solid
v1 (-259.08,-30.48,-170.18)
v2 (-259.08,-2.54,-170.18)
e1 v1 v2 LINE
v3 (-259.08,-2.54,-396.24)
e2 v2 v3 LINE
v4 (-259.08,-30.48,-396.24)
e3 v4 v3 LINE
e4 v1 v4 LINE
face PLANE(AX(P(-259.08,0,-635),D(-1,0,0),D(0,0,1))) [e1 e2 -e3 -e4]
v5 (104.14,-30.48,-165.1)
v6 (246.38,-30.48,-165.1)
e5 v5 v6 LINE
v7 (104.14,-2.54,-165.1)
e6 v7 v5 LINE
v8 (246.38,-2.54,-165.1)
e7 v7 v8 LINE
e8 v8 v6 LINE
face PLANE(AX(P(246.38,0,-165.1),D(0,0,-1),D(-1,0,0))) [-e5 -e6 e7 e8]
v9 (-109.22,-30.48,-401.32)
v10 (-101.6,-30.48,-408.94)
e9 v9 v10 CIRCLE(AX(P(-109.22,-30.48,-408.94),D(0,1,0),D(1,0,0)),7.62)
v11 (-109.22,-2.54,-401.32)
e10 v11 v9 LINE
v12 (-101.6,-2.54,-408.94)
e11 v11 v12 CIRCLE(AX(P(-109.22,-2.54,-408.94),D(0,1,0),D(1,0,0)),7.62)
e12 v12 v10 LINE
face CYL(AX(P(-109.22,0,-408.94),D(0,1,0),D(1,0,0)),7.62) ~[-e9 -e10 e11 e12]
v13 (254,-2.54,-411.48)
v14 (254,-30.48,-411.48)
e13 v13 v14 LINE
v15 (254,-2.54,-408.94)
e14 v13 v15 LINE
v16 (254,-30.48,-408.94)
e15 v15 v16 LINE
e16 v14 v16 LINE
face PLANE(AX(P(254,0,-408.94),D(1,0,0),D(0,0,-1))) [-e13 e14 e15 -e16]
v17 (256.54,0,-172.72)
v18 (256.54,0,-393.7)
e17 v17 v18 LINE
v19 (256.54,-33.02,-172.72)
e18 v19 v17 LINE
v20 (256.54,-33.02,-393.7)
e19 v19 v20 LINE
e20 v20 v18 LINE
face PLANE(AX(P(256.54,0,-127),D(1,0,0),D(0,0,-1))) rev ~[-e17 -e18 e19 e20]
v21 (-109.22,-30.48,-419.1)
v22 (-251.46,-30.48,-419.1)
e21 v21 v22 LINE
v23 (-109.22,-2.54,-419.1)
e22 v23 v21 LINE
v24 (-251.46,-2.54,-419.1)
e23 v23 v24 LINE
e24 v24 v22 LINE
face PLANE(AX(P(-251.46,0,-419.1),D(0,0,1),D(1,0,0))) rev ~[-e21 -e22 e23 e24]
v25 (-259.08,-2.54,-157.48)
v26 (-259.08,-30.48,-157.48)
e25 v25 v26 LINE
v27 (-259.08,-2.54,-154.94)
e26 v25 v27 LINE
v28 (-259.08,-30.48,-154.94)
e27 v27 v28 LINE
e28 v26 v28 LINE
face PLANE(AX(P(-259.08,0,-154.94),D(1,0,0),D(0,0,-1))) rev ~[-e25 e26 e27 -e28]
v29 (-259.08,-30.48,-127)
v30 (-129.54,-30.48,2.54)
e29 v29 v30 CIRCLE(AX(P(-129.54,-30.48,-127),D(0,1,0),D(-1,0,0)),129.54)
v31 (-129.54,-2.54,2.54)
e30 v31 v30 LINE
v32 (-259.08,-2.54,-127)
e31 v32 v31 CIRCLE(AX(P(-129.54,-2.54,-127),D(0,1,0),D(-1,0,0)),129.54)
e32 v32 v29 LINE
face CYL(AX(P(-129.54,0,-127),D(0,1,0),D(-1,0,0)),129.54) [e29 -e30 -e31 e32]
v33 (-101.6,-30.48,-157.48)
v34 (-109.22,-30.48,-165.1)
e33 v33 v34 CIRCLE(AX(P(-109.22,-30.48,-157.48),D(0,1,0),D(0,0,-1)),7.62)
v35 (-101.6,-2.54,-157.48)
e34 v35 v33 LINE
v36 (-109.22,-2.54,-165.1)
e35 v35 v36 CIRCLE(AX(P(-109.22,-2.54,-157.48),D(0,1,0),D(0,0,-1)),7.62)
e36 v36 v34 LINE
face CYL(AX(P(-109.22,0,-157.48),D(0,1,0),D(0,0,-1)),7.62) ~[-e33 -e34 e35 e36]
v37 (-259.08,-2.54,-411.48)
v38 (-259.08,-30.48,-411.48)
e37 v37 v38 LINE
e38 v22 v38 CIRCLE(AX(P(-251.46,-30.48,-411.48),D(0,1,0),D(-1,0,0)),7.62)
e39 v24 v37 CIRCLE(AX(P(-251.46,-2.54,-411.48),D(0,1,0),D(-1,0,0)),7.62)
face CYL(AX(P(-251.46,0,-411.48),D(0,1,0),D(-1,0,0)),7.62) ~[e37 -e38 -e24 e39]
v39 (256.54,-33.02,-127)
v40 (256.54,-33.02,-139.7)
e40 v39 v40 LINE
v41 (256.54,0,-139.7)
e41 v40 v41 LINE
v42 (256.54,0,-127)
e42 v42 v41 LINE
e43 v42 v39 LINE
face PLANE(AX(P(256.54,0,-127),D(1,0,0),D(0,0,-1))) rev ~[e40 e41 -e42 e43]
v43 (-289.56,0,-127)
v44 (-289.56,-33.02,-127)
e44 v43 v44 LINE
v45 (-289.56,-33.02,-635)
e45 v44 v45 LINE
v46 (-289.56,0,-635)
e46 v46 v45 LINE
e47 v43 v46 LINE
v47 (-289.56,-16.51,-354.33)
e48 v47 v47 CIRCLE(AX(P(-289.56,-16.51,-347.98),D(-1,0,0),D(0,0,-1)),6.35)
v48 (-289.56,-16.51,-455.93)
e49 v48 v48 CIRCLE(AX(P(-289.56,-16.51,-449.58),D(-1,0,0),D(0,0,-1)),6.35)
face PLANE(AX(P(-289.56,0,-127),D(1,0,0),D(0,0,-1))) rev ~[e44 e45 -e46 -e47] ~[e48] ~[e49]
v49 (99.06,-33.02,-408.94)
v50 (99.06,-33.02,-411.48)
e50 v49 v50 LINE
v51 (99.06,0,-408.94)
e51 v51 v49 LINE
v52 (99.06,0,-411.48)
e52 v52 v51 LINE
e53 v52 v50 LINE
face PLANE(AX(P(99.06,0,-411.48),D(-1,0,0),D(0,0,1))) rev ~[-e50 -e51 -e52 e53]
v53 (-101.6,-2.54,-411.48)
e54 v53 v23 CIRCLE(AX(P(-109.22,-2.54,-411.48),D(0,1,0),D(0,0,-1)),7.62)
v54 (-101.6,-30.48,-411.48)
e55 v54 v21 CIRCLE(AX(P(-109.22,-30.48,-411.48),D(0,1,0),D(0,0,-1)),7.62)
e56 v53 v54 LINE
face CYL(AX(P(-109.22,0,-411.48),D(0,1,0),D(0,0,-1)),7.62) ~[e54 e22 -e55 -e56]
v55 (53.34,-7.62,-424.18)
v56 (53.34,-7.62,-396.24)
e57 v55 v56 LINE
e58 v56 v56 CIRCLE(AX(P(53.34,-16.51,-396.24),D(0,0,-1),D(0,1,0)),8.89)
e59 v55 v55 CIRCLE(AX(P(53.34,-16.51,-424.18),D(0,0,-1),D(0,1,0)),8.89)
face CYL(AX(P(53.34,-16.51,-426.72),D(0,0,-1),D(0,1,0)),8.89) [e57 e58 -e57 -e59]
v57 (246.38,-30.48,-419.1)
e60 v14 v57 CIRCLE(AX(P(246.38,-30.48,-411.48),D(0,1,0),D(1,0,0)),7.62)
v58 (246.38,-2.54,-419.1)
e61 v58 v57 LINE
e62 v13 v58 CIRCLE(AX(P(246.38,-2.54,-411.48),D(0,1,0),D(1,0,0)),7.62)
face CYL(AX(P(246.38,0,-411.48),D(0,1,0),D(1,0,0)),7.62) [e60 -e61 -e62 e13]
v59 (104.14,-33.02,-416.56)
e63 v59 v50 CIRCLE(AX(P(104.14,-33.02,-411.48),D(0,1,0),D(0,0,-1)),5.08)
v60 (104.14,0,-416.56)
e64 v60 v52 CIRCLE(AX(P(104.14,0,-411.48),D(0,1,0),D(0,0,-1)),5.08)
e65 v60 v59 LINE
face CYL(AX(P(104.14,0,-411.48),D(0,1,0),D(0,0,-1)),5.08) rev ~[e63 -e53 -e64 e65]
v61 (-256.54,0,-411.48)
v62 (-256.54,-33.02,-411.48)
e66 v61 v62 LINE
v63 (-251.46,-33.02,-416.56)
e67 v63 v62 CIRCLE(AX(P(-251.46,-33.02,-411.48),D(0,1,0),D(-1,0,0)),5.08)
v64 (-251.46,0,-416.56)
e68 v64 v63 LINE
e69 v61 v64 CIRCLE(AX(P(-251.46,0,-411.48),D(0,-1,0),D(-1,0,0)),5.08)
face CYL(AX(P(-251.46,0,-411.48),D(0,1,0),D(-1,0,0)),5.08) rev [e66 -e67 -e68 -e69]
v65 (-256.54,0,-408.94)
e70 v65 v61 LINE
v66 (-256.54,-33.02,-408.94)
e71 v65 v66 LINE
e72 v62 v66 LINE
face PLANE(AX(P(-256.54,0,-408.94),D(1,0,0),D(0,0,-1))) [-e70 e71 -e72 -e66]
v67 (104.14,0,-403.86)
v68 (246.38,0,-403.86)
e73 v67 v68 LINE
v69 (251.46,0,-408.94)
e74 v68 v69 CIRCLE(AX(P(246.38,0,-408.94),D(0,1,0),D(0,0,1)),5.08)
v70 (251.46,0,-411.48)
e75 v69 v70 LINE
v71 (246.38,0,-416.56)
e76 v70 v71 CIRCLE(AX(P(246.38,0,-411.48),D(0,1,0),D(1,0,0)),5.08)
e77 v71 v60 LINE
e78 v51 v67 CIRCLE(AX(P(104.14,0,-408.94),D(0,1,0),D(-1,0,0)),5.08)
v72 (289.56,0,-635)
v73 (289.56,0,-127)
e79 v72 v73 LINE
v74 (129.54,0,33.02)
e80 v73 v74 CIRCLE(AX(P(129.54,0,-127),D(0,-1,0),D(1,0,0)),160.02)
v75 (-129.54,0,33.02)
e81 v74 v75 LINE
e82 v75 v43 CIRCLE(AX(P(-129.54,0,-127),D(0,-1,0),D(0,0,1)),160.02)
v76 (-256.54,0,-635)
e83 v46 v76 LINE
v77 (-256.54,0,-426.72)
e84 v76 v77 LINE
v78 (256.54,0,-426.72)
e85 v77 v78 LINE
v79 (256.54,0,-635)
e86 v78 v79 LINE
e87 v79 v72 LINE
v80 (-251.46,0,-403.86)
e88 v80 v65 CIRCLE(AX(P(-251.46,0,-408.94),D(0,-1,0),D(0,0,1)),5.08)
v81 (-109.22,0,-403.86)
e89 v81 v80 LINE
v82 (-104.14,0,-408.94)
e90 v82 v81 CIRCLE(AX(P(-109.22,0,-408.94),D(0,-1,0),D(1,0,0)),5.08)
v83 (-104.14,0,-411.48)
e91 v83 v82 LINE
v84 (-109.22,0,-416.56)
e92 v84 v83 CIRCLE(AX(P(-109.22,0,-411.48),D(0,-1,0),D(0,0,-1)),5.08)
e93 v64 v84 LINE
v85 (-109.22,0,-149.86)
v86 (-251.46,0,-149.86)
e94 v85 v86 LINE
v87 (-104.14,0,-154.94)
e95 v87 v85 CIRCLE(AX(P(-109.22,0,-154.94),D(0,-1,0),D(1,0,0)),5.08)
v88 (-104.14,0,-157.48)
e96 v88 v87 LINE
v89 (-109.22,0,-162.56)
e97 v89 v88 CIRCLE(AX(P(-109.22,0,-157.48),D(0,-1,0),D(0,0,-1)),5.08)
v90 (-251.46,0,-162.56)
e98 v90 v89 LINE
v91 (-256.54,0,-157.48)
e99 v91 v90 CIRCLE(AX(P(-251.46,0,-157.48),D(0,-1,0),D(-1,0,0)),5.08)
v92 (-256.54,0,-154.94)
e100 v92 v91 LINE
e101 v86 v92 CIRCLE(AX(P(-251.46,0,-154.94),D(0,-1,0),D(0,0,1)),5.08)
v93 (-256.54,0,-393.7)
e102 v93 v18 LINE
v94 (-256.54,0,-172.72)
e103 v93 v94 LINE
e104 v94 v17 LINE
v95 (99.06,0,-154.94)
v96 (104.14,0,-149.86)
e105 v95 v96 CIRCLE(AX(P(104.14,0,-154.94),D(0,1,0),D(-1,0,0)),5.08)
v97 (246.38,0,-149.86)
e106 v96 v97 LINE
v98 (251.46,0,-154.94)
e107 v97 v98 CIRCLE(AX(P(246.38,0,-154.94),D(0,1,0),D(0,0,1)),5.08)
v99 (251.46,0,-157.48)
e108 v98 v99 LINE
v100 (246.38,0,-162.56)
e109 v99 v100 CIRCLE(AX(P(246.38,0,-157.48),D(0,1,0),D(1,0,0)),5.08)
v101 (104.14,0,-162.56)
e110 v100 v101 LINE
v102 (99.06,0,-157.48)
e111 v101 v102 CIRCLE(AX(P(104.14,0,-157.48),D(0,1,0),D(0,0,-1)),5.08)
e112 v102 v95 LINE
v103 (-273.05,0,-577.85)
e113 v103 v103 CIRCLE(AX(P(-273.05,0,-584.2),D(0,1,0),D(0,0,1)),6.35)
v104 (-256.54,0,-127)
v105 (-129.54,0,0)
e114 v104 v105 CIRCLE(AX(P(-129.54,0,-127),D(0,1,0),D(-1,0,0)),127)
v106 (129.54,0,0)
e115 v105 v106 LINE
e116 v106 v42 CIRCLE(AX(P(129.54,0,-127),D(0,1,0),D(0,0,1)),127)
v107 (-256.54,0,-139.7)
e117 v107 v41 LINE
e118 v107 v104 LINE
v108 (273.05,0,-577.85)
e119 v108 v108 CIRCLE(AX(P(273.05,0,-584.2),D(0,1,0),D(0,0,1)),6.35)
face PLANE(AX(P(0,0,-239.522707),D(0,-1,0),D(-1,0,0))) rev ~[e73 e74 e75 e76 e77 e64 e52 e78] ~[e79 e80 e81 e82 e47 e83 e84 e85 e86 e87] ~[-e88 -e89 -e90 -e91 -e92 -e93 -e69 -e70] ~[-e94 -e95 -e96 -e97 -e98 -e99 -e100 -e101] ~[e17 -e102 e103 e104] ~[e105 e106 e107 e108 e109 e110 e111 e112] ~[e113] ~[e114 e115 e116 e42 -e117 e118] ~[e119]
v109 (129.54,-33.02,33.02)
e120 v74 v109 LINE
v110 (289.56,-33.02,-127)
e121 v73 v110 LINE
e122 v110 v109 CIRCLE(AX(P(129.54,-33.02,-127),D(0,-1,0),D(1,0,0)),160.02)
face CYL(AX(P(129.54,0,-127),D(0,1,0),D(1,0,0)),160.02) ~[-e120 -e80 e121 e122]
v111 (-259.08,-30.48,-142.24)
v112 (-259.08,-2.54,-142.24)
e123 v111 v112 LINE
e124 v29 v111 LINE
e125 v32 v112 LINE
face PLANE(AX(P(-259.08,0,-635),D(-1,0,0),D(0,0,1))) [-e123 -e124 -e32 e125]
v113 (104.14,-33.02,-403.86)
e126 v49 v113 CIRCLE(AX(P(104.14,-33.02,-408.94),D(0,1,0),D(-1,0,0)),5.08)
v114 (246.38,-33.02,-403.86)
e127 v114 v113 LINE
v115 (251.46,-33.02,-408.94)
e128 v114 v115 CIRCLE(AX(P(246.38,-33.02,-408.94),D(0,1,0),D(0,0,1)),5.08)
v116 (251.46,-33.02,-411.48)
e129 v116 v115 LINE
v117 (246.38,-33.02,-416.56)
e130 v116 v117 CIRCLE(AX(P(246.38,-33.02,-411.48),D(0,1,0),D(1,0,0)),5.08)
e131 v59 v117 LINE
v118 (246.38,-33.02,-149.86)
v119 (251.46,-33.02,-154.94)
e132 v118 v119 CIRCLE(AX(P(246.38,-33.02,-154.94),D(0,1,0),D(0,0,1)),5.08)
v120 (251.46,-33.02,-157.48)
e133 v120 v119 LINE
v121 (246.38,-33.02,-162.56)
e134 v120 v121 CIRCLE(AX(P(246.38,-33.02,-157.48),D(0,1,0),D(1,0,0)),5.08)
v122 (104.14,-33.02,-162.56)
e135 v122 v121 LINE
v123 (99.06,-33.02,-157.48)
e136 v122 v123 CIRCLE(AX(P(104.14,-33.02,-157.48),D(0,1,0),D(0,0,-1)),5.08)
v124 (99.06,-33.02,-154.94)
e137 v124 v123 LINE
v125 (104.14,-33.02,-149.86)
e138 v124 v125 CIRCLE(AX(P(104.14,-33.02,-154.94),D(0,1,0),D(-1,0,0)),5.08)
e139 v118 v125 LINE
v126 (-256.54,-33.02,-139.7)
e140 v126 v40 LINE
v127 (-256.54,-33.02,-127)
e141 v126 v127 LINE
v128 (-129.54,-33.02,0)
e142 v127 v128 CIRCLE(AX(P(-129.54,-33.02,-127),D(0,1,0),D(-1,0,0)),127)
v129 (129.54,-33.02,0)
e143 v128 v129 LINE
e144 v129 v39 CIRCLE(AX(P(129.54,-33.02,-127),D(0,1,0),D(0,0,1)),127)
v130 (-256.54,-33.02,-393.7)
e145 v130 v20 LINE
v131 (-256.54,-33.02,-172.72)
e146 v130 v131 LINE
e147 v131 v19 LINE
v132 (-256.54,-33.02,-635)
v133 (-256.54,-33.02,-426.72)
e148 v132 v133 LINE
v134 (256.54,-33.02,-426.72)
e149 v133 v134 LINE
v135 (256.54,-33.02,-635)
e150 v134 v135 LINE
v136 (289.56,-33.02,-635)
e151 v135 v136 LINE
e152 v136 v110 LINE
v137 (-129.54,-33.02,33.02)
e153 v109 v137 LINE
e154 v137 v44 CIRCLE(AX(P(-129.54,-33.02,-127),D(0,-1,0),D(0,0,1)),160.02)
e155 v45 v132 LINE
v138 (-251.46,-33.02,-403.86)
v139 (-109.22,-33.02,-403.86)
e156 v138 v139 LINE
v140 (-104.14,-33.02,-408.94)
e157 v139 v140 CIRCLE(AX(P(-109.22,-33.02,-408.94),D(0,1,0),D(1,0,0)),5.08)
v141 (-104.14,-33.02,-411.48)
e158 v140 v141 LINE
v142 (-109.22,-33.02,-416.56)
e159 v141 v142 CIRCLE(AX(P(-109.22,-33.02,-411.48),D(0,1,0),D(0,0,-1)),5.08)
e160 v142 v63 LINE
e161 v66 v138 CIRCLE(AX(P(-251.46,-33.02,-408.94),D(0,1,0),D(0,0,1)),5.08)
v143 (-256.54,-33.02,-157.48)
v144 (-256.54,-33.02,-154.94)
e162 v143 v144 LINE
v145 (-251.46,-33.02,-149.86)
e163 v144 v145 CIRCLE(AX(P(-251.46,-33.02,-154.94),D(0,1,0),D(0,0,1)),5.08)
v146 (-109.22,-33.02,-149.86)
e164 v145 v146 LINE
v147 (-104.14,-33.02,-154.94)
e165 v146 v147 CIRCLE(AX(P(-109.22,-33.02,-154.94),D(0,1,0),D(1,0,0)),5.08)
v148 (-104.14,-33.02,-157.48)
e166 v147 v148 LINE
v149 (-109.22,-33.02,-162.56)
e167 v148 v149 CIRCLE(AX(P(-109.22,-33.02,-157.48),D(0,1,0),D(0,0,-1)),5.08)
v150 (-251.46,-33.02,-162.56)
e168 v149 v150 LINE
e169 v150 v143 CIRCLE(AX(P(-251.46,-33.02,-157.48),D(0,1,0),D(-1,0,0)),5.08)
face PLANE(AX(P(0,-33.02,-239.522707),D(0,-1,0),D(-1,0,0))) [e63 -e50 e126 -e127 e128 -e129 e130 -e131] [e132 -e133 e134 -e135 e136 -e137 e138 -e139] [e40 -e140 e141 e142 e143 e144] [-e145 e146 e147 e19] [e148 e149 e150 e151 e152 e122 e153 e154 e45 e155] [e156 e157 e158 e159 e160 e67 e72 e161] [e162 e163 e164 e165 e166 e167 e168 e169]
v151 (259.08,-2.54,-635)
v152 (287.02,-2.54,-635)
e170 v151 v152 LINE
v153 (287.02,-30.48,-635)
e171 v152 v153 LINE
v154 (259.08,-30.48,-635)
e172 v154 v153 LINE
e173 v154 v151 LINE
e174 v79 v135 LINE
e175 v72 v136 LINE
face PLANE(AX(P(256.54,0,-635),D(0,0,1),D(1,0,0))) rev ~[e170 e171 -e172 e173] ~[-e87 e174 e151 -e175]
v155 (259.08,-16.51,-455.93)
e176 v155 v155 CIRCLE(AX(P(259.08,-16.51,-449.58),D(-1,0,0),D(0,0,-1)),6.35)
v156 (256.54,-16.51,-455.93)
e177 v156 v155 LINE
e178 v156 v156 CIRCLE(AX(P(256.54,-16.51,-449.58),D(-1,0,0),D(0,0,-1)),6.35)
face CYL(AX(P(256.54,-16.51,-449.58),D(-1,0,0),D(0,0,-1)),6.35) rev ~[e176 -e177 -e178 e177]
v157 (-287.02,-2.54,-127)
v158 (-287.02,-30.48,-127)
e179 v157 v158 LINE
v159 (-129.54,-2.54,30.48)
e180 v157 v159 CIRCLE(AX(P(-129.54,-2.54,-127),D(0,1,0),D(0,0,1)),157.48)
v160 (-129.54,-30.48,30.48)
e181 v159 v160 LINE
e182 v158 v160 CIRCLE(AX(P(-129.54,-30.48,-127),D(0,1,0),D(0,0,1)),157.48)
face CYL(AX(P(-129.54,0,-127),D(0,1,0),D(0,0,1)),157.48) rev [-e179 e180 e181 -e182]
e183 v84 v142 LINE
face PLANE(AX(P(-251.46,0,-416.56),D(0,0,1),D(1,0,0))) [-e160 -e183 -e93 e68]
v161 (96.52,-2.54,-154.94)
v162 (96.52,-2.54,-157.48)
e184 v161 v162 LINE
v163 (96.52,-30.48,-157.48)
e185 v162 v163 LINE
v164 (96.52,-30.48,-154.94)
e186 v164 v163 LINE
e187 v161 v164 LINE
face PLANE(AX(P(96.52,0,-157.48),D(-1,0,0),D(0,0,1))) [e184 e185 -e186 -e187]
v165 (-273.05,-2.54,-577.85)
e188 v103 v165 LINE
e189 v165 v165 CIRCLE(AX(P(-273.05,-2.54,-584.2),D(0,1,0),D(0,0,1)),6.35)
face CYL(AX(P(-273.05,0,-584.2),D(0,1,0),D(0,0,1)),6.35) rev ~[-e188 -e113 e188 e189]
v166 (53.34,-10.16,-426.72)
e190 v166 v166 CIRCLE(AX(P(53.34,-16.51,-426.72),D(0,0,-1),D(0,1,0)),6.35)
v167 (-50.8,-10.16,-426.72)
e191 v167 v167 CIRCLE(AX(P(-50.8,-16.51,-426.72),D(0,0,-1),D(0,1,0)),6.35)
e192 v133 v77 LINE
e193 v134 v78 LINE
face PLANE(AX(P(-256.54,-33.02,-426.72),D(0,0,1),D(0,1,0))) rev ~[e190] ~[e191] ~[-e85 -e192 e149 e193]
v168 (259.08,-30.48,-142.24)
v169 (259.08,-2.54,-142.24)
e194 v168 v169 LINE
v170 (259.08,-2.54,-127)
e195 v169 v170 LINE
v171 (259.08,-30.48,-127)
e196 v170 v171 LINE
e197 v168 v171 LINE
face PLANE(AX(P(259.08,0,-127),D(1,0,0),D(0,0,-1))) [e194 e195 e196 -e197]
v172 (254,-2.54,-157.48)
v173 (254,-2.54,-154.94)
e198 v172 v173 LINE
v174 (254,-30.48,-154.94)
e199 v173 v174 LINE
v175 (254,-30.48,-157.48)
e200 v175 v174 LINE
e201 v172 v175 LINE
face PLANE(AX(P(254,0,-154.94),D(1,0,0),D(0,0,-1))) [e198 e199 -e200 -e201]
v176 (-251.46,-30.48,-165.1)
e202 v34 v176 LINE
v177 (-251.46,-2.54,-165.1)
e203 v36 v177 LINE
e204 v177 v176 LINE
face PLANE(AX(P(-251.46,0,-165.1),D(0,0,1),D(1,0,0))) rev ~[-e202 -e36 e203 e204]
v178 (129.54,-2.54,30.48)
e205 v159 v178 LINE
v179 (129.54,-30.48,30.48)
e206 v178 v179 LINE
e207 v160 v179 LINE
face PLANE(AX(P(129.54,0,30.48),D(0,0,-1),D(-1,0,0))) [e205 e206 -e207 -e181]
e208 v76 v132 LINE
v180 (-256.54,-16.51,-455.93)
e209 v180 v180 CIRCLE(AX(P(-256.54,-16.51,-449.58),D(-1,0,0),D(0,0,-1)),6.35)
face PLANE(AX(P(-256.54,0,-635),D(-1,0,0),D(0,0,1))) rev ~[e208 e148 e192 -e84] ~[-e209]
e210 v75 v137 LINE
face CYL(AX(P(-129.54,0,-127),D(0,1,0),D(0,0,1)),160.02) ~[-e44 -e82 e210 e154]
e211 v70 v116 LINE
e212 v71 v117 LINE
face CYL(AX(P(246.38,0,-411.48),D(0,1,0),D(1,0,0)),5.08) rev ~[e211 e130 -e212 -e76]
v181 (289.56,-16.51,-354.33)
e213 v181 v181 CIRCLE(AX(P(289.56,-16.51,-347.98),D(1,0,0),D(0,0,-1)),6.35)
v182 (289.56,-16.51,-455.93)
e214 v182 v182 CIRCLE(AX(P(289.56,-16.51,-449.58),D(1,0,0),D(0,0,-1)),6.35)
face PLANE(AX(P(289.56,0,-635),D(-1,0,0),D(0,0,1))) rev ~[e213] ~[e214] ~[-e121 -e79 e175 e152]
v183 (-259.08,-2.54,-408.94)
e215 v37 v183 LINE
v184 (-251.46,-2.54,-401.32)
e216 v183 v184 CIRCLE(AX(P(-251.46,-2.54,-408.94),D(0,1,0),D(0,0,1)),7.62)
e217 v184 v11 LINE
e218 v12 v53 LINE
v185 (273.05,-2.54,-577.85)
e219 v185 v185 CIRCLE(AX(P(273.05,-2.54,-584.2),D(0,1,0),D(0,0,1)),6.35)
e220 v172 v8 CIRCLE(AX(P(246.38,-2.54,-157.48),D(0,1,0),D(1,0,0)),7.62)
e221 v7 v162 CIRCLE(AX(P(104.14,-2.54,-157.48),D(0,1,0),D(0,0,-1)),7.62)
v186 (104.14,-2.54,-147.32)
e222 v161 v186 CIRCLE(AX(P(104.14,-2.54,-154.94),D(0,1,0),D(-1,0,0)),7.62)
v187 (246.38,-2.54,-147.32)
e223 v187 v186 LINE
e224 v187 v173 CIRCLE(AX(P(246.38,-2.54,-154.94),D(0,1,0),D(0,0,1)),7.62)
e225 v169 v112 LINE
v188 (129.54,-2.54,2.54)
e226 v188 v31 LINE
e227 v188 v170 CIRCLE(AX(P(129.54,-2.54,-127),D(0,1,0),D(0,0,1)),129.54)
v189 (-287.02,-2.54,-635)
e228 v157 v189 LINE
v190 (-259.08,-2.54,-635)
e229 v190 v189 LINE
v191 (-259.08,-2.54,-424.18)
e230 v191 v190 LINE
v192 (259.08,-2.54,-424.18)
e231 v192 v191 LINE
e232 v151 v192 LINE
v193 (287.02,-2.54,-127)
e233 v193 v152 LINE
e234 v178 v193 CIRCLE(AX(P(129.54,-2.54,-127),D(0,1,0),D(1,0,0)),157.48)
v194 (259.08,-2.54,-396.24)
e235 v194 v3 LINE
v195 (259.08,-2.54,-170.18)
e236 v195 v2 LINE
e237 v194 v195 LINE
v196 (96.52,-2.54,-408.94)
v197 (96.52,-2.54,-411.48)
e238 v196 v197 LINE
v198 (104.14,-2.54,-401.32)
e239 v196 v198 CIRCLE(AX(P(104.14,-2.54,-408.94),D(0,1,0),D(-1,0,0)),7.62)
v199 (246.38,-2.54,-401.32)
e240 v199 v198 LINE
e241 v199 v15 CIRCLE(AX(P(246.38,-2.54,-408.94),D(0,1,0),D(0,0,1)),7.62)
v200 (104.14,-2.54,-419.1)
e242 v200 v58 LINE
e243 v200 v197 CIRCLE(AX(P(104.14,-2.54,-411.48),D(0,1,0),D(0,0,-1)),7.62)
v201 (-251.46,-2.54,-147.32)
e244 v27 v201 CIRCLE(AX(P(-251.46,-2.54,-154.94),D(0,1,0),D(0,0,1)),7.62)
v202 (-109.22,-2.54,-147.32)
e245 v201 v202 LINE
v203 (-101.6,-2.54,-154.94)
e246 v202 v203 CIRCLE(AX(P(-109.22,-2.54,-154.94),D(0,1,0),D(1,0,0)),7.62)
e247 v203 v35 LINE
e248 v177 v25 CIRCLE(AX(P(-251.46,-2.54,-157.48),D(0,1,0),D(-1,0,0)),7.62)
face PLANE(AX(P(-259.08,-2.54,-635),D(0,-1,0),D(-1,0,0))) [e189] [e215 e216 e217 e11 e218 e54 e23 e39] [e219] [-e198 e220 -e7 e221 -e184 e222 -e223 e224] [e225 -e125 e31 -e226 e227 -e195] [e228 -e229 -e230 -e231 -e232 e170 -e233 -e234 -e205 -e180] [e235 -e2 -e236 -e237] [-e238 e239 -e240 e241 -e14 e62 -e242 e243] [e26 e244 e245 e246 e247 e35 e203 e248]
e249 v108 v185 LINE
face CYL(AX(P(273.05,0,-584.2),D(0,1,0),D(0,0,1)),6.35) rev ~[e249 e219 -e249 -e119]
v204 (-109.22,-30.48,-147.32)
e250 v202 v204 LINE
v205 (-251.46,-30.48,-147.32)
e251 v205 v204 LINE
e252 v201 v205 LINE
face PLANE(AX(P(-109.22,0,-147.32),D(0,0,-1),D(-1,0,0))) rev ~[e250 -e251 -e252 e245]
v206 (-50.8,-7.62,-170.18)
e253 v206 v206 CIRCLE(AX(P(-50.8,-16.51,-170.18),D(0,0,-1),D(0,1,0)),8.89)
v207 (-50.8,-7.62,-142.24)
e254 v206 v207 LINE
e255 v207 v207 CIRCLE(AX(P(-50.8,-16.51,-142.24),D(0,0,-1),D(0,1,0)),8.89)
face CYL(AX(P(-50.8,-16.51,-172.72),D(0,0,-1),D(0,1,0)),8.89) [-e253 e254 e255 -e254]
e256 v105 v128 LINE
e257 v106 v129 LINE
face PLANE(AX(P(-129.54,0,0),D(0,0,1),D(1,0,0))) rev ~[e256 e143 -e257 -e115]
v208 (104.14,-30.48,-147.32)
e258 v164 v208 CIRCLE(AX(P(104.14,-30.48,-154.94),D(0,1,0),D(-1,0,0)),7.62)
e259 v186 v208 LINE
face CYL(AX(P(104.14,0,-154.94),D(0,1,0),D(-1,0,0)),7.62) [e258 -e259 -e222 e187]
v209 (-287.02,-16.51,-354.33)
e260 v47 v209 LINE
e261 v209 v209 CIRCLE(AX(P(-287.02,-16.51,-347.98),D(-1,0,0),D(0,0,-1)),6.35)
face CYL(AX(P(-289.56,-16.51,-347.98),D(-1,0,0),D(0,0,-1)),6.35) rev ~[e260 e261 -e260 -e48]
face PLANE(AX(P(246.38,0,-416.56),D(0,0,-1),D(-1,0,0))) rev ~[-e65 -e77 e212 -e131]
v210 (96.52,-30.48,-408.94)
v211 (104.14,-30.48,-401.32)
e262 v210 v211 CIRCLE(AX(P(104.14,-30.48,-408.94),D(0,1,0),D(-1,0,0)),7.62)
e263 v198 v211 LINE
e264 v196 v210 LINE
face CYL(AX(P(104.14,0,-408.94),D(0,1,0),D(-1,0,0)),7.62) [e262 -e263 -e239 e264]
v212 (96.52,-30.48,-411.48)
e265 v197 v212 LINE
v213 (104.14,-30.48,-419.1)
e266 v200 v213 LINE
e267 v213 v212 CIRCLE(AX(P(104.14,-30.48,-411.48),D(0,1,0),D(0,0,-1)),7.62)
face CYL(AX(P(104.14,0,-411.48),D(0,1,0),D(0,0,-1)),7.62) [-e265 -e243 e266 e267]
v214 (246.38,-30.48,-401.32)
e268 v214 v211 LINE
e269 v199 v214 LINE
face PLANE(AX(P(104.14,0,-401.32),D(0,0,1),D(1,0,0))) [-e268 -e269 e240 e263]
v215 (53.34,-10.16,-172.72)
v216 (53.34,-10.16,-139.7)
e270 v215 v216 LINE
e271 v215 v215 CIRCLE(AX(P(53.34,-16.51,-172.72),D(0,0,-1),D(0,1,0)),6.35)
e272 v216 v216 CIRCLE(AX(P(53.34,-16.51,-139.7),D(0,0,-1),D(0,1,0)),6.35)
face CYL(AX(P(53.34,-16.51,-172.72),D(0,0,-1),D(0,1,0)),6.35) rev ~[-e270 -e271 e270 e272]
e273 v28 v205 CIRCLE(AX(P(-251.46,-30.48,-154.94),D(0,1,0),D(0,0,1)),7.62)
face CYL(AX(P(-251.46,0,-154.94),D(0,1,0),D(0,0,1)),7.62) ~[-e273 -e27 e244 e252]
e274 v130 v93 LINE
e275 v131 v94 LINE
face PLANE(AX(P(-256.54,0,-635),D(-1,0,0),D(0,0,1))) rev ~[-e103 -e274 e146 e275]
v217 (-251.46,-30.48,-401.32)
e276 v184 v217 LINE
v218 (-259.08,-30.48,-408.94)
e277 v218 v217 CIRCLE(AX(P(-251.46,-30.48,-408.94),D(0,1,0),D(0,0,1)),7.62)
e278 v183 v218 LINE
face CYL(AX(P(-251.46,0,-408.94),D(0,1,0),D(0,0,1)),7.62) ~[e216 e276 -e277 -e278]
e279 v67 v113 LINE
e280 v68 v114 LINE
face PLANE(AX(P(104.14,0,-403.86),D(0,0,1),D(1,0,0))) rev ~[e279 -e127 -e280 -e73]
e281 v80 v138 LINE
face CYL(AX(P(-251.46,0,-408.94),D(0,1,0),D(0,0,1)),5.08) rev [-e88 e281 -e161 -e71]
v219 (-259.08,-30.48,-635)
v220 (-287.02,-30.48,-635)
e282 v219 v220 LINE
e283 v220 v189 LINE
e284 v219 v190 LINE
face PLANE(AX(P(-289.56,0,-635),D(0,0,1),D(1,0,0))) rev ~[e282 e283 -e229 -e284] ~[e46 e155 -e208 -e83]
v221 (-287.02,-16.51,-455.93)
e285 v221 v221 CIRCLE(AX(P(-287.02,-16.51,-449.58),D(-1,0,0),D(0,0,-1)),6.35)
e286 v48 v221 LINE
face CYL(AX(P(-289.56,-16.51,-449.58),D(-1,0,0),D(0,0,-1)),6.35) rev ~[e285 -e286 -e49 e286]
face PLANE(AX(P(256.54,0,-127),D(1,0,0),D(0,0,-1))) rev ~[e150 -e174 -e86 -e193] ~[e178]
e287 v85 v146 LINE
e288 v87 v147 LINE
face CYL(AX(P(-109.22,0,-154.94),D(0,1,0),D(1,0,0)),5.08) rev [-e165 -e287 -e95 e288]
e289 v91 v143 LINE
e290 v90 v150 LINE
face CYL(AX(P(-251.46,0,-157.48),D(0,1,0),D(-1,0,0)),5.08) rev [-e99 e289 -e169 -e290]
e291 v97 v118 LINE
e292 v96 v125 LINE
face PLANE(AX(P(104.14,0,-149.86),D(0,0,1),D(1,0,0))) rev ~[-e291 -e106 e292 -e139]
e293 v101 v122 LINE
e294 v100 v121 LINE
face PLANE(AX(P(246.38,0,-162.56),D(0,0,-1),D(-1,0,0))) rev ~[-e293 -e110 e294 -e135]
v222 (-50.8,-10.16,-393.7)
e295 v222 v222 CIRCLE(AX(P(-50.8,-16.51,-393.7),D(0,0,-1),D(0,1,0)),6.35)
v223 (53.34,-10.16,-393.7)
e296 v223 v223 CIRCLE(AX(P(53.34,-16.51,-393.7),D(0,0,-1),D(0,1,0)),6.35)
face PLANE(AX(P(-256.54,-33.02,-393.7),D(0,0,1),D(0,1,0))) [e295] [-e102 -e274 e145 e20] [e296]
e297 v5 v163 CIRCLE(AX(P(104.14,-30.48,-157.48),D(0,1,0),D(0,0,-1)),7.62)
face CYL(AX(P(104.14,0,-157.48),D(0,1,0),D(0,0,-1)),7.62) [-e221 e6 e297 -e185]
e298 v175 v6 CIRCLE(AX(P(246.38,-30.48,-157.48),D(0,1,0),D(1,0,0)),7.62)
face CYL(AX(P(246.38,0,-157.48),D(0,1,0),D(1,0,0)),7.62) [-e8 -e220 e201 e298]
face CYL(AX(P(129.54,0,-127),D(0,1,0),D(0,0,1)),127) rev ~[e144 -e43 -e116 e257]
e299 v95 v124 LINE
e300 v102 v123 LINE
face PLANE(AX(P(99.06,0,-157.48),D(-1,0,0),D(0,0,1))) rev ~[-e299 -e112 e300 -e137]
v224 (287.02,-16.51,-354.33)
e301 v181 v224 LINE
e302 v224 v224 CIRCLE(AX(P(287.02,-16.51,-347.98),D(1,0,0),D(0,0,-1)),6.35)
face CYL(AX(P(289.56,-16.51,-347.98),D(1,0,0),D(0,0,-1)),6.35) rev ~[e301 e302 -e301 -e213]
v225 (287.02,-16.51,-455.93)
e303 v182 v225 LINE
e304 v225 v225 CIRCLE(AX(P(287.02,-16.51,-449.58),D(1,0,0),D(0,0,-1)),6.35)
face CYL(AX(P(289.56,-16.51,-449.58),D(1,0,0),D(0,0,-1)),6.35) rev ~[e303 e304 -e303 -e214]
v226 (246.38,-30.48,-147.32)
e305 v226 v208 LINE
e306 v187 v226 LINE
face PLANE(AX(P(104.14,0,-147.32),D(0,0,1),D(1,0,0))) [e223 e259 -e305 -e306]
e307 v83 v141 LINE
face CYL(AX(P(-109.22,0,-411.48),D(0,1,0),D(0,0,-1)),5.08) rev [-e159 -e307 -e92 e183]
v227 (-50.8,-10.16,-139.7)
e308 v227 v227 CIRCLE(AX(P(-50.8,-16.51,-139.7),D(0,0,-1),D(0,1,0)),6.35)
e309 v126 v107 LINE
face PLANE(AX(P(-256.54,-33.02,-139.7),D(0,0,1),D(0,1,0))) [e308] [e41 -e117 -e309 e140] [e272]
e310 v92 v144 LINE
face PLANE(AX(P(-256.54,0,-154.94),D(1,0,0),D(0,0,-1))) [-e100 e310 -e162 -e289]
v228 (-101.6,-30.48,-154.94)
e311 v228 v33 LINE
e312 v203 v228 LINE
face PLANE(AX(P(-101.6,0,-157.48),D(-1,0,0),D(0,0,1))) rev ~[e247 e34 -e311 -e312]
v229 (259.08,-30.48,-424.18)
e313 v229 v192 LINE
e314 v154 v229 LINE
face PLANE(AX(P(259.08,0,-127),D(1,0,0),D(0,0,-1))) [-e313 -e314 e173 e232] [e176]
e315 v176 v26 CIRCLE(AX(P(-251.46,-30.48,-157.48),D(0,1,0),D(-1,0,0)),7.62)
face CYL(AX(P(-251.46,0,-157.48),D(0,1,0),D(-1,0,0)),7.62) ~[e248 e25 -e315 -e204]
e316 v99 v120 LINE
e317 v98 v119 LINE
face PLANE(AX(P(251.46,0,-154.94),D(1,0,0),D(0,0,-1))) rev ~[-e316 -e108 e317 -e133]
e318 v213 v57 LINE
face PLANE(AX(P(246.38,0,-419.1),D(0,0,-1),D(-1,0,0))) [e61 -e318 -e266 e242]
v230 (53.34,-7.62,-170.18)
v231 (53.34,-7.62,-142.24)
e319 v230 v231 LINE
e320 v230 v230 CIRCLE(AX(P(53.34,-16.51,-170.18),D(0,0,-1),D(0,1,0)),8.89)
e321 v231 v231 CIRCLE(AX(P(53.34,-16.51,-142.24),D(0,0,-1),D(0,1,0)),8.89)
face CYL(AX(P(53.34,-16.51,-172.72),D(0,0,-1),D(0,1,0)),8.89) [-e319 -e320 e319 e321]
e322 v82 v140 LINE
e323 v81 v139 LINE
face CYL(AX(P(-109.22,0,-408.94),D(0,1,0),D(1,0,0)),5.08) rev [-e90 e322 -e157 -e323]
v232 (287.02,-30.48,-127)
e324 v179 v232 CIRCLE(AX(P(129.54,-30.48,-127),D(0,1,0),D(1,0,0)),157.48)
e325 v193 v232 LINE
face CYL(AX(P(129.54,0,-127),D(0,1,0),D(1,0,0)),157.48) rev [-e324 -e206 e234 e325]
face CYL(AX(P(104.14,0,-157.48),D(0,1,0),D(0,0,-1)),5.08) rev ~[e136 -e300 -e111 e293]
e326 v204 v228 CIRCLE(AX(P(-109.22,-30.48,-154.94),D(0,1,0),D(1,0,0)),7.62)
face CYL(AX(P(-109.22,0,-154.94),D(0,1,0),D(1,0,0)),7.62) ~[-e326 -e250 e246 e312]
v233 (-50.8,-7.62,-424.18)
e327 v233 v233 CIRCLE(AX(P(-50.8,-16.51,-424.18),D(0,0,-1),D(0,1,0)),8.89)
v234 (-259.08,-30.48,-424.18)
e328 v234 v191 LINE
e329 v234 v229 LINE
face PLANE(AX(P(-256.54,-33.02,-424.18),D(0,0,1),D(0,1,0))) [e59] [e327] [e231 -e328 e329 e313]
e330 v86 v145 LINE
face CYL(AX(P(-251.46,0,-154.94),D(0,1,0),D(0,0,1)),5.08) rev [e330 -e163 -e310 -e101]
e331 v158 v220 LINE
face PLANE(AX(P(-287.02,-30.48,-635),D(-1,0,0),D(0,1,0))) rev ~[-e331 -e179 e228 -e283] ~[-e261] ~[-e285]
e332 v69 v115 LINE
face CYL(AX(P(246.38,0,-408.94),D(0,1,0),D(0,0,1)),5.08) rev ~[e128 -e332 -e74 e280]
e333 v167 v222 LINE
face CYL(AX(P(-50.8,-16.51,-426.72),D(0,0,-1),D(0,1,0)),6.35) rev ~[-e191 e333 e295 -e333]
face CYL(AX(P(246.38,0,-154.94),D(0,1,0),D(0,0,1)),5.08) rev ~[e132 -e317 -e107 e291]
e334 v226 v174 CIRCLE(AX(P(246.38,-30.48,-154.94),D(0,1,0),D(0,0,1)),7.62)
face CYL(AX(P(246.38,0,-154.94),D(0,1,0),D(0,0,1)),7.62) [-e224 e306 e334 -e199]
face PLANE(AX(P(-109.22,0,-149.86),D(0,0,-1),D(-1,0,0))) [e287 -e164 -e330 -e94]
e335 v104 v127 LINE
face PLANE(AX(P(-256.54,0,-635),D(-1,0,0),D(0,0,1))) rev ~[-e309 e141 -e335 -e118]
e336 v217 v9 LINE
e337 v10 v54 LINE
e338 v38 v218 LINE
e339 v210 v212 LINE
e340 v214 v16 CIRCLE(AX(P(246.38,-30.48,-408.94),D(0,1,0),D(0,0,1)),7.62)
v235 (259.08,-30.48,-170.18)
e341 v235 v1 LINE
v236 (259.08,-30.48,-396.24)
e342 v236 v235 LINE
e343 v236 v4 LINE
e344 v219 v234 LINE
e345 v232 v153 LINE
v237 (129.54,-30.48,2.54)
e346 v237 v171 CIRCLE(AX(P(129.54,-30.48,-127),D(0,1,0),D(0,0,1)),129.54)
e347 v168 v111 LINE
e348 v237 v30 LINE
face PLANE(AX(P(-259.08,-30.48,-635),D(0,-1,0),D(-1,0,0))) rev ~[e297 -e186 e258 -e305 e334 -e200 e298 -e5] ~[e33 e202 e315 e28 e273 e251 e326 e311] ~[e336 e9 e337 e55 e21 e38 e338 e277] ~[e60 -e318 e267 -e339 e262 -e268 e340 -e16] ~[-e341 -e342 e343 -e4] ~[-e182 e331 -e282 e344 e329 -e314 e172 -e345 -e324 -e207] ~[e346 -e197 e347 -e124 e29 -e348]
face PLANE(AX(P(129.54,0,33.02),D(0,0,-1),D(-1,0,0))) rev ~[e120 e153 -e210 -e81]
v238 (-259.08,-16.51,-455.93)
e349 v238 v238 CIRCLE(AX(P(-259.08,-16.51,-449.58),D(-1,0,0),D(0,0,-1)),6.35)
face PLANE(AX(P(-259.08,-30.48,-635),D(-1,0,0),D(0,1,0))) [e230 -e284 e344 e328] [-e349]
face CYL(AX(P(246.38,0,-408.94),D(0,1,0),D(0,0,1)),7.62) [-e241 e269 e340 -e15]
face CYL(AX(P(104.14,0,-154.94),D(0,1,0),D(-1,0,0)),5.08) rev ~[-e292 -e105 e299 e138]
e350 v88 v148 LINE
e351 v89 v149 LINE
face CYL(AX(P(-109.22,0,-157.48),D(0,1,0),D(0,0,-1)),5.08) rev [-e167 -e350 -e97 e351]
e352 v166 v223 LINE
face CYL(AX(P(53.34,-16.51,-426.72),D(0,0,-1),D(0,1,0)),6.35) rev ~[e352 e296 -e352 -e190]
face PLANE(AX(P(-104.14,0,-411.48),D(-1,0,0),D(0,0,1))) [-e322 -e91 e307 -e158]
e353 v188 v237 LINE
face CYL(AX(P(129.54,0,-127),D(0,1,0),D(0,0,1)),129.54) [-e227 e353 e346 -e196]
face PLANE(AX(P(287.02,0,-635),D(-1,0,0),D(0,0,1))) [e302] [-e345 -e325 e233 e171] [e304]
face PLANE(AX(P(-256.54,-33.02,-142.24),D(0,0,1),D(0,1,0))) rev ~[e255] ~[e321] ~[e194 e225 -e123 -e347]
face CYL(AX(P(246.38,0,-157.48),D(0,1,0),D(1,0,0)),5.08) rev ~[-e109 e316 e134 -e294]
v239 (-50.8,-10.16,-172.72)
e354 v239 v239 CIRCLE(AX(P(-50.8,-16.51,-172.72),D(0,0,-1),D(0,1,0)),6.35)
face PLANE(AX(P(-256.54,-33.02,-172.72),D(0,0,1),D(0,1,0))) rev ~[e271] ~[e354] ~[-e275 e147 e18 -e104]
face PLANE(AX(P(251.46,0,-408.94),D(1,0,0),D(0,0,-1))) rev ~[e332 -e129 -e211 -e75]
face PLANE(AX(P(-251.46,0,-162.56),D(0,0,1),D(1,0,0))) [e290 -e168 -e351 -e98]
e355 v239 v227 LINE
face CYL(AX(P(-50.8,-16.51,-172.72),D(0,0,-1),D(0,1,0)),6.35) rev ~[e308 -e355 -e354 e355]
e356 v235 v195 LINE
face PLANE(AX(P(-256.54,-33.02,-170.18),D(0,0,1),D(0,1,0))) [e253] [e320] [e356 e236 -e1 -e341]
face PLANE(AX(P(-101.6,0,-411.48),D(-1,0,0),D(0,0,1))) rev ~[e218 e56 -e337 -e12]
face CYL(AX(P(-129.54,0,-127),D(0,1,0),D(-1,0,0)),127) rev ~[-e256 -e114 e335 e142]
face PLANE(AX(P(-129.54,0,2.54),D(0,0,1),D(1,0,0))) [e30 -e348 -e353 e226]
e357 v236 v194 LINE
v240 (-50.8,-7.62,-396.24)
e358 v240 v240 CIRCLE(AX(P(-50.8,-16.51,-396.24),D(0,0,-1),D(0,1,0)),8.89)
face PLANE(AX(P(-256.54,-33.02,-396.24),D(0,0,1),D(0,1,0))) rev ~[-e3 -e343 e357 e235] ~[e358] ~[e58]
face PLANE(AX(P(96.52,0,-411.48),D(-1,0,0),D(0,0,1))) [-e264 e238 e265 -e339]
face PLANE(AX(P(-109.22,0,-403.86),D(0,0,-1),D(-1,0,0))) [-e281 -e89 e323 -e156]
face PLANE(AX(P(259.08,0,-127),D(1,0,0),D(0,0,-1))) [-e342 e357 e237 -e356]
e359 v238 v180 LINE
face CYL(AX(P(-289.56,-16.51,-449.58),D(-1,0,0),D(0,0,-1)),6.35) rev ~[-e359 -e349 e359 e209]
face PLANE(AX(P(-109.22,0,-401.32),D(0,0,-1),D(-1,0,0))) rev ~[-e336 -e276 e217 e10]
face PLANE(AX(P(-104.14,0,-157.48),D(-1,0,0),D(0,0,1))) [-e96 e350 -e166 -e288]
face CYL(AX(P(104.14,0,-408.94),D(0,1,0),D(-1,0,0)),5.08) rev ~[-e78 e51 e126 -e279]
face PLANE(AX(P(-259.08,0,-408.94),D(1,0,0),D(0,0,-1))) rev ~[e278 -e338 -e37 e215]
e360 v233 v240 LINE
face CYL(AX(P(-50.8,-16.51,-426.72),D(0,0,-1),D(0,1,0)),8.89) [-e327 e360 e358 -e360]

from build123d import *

# Parameters (mm, degrees)
BOSS_EXTRUDE1_DEPTH = 33.02
BOSS_EXTRUDE2_REACH = 840.177
SKETCH3_W           = 33.02
SKETCH3_H           = 33.02
CUT_EXTRUDE1_DEPTH  = 699.684702852
CUT_EXTRUDE2_REACH  = 548.478
SKETCH6_R           = 6.35
LPATTERN1_COUNT     = 2
LPATTERN1_PITCH     = 254
SHELL1_T            = -2.54
CUT_EXTRUDE3_REACH  = 730.825
SKETCH7_W           = 27.94
SKETCH7_H           = 27.94
CUT_EXTRUDE4_REACH  = 700.685
SKETCH8_R           = 6.35
CUT_EXTRUDE5_REACH  = 862.055
SKETCH9_R           = 6.35
CUT_EXTRUDE6_REACH  = 862.055
SKETCH10_R          = 6.35
SKETCH15_R          = 6.35
CUT_EXTRUDE10_DEPTH = 839.176908773
SKETCH16_R          = 6.35
CUT_EXTRUDE11_DEPTH = 861.055402169


with BuildPart() as part:
    # Sketch1 → Boss-Extrude1 (new body)
    with BuildSketch(Plane(origin=(0, 0, 0), x_dir=(1, 0, 0), z_dir=(0, 1, 0))):
        with BuildLine():
            Line((-256.54, 635), (-256.54, 127))
            ThreePointArc((-256.54, 127), (-219.342561211, 37.197438789), (-129.54, 0))
            Line((-129.54, 0), (129.54, 0))
            ThreePointArc((129.54, 0), (219.342561211, 37.197438789), (256.54, 127))
            Line((256.54, 127), (256.54, 635))
            Line((256.54, 635), (289.56, 635))
            Line((289.56, 635), (289.56, 127))
            ThreePointArc((289.56, 127), (242.691227125, 13.848772875), (129.54, -33.02))
            Line((129.54, -33.02), (-129.54, -33.02))
            ThreePointArc((-129.54, -33.02), (-242.691227125, 13.848772875), (-289.56, 127))
            Line((-289.56, 127), (-289.56, 635))
            Line((-289.56, 635), (-256.54, 635))
        make_face()
    extrude(amount=-BOSS_EXTRUDE1_DEPTH)

    # Sketch3 → Boss-Extrude2 (add, up to next)
    with BuildSketch(Plane(origin=(-256.54, 0, 0), x_dir=(0, 0, -1), z_dir=(1, 0, 0)), mode=Mode.PRIVATE) as boss_extrude2_sk1:
        with Locations((156.21, -16.51)):
            Rectangle(SKETCH3_W, SKETCH3_H)
    boss_extrude2_tool1 = extrude(boss_extrude2_sk1.sketch, amount=BOSS_EXTRUDE2_REACH, mode=Mode.PRIVATE) - part.part
    boss_extrude2 = boss_extrude2_tool1.solids().sort_by_distance((-256.54, -16.51, -156.21))[0]
    add(boss_extrude2)

    # Sketch5 → Cut-Extrude1 (cut, through all)
    with BuildSketch(Plane(origin=(0, 0, 0), x_dir=(1, 0, 0), z_dir=(0, 1, 0))):
        with BuildLine():
            Line((-251.46, 162.56), (-109.22, 162.56))
            ThreePointArc((-109.22, 162.56), (-105.627897552, 161.072102448), (-104.14, 157.48))
            Line((-104.14, 157.48), (-104.14, 154.94))
            ThreePointArc((-104.14, 154.94), (-105.627897552, 151.347897552), (-109.22, 149.86))
            Line((-109.22, 149.86), (-251.46, 149.86))
            ThreePointArc((-251.46, 149.86), (-255.052102448, 151.347897552), (-256.54, 154.94))
            Line((-256.54, 154.94), (-256.54, 157.48))
            ThreePointArc((-256.54, 157.48), (-255.052102448, 161.072102448), (-251.46, 162.56))
        make_face()
        with BuildLine():
            Line((99.06, 157.48), (99.06, 154.94))
            ThreePointArc((99.06, 154.94), (100.547897552, 151.347897552), (104.14, 149.86))
            Line((104.14, 149.86), (246.38, 149.86))
            ThreePointArc((246.38, 149.86), (249.972102448, 151.347897552), (251.46, 154.94))
            Line((251.46, 154.94), (251.46, 157.48))
            ThreePointArc((251.46, 157.48), (249.972102448, 161.072102448), (246.38, 162.56))
            Line((246.38, 162.56), (104.14, 162.56))
            ThreePointArc((104.14, 162.56), (100.547897552, 161.072102448), (99.06, 157.48))
        make_face()
    cut_extrude1 = extrude(amount=-CUT_EXTRUDE1_DEPTH, mode=Mode.SUBTRACT)

    # Sketch6 → Cut-Extrude2 (cut, up to next)
    with BuildSketch(Plane(origin=(0, 0, -172.72), x_dir=(-1, 0, 0), z_dir=(0, 0, -1)), mode=Mode.PRIVATE) as cut_extrude2_sk1:
        with Locations((50.8, -16.51)):
            Circle(SKETCH6_R)
    cut_extrude2_tool1 = extrude(cut_extrude2_sk1.sketch, amount=-CUT_EXTRUDE2_REACH, mode=Mode.PRIVATE) & part.part
    # Sketch6 → Cut-Extrude2 (cut, up to next)
    with BuildSketch(Plane(origin=(0, 0, -172.72), x_dir=(-1, 0, 0), z_dir=(0, 0, -1)), mode=Mode.PRIVATE) as cut_extrude2_sk2:
        with Locations((-53.34, -16.51)):
            Circle(SKETCH6_R)
    cut_extrude2_tool2 = extrude(cut_extrude2_sk2.sketch, amount=-CUT_EXTRUDE2_REACH, mode=Mode.PRIVATE) & part.part
    cut_extrude2_1 = cut_extrude2_tool1.solids().sort_by_distance((-50.8, -16.51, -172.72))[0]
    add(cut_extrude2_1, mode=Mode.SUBTRACT)
    cut_extrude2_2 = cut_extrude2_tool2.solids().sort_by_distance((53.34, -16.51, -172.72))[0]
    add(cut_extrude2_2, mode=Mode.SUBTRACT)
    cut_extrude2 = cut_extrude2_1 + cut_extrude2_2  # Cut-Extrude2 as one shape, for the pattern or mirror that repeats it

    # LPattern1: Boss-Extrude2, Cut-Extrude1, Cut-Extrude2 ×2
    with Locations(*[(0, 0, -i * LPATTERN1_PITCH) for i in range(1, LPATTERN1_COUNT)]):
        add(boss_extrude2)
        add(cut_extrude1, mode=Mode.SUBTRACT)
        add(cut_extrude2, mode=Mode.SUBTRACT)

    # Shell1
    shell1_openings = [part.faces().sort_by_distance(p)[0] for p in [
        (273.05, -16.51, -635),
    ]]
    offset(amount=SHELL1_T, openings=shell1_openings, kind=Kind.INTERSECTION)

    # Sketch7 → Cut-Extrude3 (cut, up to next)
    with BuildSketch(Plane(origin=(0, 0, -635), x_dir=(-1, 0, 0), z_dir=(0, 0, -1)), mode=Mode.PRIVATE) as cut_extrude3_sk1:
        with Locations((273.05, -16.51)):
            Rectangle(SKETCH7_W, SKETCH7_H)
    cut_extrude3_tool1 = extrude(cut_extrude3_sk1.sketch, amount=-CUT_EXTRUDE3_REACH, mode=Mode.PRIVATE) & part.part
    add(cut_extrude3_tool1.solids().sort_by_distance((-273.05, -16.51, -635))[0], mode=Mode.SUBTRACT)

    # Sketch8 → Cut-Extrude4 (cut, up to next)
    with BuildSketch(Plane(origin=(0, 0, 0), x_dir=(1, 0, 0), z_dir=(0, 1, 0)), mode=Mode.PRIVATE) as cut_extrude4_sk1:
        with Locations((-273.05, 584.2)):
            Circle(SKETCH8_R)
    cut_extrude4_tool1 = extrude(cut_extrude4_sk1.sketch, amount=-CUT_EXTRUDE4_REACH, mode=Mode.PRIVATE) & part.part
    # Sketch8 → Cut-Extrude4 (cut, up to next)
    with BuildSketch(Plane(origin=(0, 0, 0), x_dir=(1, 0, 0), z_dir=(0, 1, 0)), mode=Mode.PRIVATE) as cut_extrude4_sk2:
        with Locations((273.05, 584.2)):
            Circle(SKETCH8_R)
    cut_extrude4_tool2 = extrude(cut_extrude4_sk2.sketch, amount=-CUT_EXTRUDE4_REACH, mode=Mode.PRIVATE) & part.part
    add(cut_extrude4_tool1.solids().sort_by_distance((-273.05, 0, -584.2))[0], mode=Mode.SUBTRACT)
    add(cut_extrude4_tool2.solids().sort_by_distance((273.05, 0, -584.2))[0], mode=Mode.SUBTRACT)

    # Sketch9 → Cut-Extrude5 (cut, up to next)
    with BuildSketch(Plane(origin=(289.56, 0, 0), x_dir=(0, 0, -1), z_dir=(1, 0, 0)), mode=Mode.PRIVATE) as cut_extrude5_sk1:
        with Locations((347.98, -16.51)):
            Circle(SKETCH9_R)
    cut_extrude5_tool1 = extrude(cut_extrude5_sk1.sketch, amount=-CUT_EXTRUDE5_REACH, mode=Mode.PRIVATE) & part.part
    # Sketch9 → Cut-Extrude5 (cut, up to next)
    with BuildSketch(Plane(origin=(289.56, 0, 0), x_dir=(0, 0, -1), z_dir=(1, 0, 0)), mode=Mode.PRIVATE) as cut_extrude5_sk2:
        with Locations((449.58, -16.51)):
            Circle(SKETCH9_R)
    cut_extrude5_tool2 = extrude(cut_extrude5_sk2.sketch, amount=-CUT_EXTRUDE5_REACH, mode=Mode.PRIVATE) & part.part
    add(cut_extrude5_tool1.solids().sort_by_distance((289.56, -16.51, -347.98))[0], mode=Mode.SUBTRACT)
    add(cut_extrude5_tool2.solids().sort_by_distance((289.56, -16.51, -449.58))[0], mode=Mode.SUBTRACT)

    # Sketch10 → Cut-Extrude6 (cut, up to next)
    with BuildSketch(Plane.ZY.offset(289.56), mode=Mode.PRIVATE) as cut_extrude6_sk1:
        with Locations((-347.98, -16.51)):
            Circle(SKETCH10_R)
    cut_extrude6_tool1 = extrude(cut_extrude6_sk1.sketch, amount=-CUT_EXTRUDE6_REACH, mode=Mode.PRIVATE) & part.part
    add(cut_extrude6_tool1.solids().sort_by_distance((-289.56, -16.51, -347.98))[0], mode=Mode.SUBTRACT)

    # Sketch15 → Cut-Extrude10 (cut, through all)
    with BuildSketch(Plane.ZY.offset(-256.54)):
        with Locations((-449.58, -16.51)):
            Circle(SKETCH15_R)
    extrude(amount=-CUT_EXTRUDE10_DEPTH, mode=Mode.SUBTRACT)

    # Sketch16 → Cut-Extrude11 (cut, through all)
    with BuildSketch(Plane.ZY.offset(289.56)):
        with Locations((-449.58, -16.51)):
            Circle(SKETCH16_R)
    extrude(amount=-CUT_EXTRUDE11_DEPTH, mode=Mode.SUBTRACT)


solid = part.part
